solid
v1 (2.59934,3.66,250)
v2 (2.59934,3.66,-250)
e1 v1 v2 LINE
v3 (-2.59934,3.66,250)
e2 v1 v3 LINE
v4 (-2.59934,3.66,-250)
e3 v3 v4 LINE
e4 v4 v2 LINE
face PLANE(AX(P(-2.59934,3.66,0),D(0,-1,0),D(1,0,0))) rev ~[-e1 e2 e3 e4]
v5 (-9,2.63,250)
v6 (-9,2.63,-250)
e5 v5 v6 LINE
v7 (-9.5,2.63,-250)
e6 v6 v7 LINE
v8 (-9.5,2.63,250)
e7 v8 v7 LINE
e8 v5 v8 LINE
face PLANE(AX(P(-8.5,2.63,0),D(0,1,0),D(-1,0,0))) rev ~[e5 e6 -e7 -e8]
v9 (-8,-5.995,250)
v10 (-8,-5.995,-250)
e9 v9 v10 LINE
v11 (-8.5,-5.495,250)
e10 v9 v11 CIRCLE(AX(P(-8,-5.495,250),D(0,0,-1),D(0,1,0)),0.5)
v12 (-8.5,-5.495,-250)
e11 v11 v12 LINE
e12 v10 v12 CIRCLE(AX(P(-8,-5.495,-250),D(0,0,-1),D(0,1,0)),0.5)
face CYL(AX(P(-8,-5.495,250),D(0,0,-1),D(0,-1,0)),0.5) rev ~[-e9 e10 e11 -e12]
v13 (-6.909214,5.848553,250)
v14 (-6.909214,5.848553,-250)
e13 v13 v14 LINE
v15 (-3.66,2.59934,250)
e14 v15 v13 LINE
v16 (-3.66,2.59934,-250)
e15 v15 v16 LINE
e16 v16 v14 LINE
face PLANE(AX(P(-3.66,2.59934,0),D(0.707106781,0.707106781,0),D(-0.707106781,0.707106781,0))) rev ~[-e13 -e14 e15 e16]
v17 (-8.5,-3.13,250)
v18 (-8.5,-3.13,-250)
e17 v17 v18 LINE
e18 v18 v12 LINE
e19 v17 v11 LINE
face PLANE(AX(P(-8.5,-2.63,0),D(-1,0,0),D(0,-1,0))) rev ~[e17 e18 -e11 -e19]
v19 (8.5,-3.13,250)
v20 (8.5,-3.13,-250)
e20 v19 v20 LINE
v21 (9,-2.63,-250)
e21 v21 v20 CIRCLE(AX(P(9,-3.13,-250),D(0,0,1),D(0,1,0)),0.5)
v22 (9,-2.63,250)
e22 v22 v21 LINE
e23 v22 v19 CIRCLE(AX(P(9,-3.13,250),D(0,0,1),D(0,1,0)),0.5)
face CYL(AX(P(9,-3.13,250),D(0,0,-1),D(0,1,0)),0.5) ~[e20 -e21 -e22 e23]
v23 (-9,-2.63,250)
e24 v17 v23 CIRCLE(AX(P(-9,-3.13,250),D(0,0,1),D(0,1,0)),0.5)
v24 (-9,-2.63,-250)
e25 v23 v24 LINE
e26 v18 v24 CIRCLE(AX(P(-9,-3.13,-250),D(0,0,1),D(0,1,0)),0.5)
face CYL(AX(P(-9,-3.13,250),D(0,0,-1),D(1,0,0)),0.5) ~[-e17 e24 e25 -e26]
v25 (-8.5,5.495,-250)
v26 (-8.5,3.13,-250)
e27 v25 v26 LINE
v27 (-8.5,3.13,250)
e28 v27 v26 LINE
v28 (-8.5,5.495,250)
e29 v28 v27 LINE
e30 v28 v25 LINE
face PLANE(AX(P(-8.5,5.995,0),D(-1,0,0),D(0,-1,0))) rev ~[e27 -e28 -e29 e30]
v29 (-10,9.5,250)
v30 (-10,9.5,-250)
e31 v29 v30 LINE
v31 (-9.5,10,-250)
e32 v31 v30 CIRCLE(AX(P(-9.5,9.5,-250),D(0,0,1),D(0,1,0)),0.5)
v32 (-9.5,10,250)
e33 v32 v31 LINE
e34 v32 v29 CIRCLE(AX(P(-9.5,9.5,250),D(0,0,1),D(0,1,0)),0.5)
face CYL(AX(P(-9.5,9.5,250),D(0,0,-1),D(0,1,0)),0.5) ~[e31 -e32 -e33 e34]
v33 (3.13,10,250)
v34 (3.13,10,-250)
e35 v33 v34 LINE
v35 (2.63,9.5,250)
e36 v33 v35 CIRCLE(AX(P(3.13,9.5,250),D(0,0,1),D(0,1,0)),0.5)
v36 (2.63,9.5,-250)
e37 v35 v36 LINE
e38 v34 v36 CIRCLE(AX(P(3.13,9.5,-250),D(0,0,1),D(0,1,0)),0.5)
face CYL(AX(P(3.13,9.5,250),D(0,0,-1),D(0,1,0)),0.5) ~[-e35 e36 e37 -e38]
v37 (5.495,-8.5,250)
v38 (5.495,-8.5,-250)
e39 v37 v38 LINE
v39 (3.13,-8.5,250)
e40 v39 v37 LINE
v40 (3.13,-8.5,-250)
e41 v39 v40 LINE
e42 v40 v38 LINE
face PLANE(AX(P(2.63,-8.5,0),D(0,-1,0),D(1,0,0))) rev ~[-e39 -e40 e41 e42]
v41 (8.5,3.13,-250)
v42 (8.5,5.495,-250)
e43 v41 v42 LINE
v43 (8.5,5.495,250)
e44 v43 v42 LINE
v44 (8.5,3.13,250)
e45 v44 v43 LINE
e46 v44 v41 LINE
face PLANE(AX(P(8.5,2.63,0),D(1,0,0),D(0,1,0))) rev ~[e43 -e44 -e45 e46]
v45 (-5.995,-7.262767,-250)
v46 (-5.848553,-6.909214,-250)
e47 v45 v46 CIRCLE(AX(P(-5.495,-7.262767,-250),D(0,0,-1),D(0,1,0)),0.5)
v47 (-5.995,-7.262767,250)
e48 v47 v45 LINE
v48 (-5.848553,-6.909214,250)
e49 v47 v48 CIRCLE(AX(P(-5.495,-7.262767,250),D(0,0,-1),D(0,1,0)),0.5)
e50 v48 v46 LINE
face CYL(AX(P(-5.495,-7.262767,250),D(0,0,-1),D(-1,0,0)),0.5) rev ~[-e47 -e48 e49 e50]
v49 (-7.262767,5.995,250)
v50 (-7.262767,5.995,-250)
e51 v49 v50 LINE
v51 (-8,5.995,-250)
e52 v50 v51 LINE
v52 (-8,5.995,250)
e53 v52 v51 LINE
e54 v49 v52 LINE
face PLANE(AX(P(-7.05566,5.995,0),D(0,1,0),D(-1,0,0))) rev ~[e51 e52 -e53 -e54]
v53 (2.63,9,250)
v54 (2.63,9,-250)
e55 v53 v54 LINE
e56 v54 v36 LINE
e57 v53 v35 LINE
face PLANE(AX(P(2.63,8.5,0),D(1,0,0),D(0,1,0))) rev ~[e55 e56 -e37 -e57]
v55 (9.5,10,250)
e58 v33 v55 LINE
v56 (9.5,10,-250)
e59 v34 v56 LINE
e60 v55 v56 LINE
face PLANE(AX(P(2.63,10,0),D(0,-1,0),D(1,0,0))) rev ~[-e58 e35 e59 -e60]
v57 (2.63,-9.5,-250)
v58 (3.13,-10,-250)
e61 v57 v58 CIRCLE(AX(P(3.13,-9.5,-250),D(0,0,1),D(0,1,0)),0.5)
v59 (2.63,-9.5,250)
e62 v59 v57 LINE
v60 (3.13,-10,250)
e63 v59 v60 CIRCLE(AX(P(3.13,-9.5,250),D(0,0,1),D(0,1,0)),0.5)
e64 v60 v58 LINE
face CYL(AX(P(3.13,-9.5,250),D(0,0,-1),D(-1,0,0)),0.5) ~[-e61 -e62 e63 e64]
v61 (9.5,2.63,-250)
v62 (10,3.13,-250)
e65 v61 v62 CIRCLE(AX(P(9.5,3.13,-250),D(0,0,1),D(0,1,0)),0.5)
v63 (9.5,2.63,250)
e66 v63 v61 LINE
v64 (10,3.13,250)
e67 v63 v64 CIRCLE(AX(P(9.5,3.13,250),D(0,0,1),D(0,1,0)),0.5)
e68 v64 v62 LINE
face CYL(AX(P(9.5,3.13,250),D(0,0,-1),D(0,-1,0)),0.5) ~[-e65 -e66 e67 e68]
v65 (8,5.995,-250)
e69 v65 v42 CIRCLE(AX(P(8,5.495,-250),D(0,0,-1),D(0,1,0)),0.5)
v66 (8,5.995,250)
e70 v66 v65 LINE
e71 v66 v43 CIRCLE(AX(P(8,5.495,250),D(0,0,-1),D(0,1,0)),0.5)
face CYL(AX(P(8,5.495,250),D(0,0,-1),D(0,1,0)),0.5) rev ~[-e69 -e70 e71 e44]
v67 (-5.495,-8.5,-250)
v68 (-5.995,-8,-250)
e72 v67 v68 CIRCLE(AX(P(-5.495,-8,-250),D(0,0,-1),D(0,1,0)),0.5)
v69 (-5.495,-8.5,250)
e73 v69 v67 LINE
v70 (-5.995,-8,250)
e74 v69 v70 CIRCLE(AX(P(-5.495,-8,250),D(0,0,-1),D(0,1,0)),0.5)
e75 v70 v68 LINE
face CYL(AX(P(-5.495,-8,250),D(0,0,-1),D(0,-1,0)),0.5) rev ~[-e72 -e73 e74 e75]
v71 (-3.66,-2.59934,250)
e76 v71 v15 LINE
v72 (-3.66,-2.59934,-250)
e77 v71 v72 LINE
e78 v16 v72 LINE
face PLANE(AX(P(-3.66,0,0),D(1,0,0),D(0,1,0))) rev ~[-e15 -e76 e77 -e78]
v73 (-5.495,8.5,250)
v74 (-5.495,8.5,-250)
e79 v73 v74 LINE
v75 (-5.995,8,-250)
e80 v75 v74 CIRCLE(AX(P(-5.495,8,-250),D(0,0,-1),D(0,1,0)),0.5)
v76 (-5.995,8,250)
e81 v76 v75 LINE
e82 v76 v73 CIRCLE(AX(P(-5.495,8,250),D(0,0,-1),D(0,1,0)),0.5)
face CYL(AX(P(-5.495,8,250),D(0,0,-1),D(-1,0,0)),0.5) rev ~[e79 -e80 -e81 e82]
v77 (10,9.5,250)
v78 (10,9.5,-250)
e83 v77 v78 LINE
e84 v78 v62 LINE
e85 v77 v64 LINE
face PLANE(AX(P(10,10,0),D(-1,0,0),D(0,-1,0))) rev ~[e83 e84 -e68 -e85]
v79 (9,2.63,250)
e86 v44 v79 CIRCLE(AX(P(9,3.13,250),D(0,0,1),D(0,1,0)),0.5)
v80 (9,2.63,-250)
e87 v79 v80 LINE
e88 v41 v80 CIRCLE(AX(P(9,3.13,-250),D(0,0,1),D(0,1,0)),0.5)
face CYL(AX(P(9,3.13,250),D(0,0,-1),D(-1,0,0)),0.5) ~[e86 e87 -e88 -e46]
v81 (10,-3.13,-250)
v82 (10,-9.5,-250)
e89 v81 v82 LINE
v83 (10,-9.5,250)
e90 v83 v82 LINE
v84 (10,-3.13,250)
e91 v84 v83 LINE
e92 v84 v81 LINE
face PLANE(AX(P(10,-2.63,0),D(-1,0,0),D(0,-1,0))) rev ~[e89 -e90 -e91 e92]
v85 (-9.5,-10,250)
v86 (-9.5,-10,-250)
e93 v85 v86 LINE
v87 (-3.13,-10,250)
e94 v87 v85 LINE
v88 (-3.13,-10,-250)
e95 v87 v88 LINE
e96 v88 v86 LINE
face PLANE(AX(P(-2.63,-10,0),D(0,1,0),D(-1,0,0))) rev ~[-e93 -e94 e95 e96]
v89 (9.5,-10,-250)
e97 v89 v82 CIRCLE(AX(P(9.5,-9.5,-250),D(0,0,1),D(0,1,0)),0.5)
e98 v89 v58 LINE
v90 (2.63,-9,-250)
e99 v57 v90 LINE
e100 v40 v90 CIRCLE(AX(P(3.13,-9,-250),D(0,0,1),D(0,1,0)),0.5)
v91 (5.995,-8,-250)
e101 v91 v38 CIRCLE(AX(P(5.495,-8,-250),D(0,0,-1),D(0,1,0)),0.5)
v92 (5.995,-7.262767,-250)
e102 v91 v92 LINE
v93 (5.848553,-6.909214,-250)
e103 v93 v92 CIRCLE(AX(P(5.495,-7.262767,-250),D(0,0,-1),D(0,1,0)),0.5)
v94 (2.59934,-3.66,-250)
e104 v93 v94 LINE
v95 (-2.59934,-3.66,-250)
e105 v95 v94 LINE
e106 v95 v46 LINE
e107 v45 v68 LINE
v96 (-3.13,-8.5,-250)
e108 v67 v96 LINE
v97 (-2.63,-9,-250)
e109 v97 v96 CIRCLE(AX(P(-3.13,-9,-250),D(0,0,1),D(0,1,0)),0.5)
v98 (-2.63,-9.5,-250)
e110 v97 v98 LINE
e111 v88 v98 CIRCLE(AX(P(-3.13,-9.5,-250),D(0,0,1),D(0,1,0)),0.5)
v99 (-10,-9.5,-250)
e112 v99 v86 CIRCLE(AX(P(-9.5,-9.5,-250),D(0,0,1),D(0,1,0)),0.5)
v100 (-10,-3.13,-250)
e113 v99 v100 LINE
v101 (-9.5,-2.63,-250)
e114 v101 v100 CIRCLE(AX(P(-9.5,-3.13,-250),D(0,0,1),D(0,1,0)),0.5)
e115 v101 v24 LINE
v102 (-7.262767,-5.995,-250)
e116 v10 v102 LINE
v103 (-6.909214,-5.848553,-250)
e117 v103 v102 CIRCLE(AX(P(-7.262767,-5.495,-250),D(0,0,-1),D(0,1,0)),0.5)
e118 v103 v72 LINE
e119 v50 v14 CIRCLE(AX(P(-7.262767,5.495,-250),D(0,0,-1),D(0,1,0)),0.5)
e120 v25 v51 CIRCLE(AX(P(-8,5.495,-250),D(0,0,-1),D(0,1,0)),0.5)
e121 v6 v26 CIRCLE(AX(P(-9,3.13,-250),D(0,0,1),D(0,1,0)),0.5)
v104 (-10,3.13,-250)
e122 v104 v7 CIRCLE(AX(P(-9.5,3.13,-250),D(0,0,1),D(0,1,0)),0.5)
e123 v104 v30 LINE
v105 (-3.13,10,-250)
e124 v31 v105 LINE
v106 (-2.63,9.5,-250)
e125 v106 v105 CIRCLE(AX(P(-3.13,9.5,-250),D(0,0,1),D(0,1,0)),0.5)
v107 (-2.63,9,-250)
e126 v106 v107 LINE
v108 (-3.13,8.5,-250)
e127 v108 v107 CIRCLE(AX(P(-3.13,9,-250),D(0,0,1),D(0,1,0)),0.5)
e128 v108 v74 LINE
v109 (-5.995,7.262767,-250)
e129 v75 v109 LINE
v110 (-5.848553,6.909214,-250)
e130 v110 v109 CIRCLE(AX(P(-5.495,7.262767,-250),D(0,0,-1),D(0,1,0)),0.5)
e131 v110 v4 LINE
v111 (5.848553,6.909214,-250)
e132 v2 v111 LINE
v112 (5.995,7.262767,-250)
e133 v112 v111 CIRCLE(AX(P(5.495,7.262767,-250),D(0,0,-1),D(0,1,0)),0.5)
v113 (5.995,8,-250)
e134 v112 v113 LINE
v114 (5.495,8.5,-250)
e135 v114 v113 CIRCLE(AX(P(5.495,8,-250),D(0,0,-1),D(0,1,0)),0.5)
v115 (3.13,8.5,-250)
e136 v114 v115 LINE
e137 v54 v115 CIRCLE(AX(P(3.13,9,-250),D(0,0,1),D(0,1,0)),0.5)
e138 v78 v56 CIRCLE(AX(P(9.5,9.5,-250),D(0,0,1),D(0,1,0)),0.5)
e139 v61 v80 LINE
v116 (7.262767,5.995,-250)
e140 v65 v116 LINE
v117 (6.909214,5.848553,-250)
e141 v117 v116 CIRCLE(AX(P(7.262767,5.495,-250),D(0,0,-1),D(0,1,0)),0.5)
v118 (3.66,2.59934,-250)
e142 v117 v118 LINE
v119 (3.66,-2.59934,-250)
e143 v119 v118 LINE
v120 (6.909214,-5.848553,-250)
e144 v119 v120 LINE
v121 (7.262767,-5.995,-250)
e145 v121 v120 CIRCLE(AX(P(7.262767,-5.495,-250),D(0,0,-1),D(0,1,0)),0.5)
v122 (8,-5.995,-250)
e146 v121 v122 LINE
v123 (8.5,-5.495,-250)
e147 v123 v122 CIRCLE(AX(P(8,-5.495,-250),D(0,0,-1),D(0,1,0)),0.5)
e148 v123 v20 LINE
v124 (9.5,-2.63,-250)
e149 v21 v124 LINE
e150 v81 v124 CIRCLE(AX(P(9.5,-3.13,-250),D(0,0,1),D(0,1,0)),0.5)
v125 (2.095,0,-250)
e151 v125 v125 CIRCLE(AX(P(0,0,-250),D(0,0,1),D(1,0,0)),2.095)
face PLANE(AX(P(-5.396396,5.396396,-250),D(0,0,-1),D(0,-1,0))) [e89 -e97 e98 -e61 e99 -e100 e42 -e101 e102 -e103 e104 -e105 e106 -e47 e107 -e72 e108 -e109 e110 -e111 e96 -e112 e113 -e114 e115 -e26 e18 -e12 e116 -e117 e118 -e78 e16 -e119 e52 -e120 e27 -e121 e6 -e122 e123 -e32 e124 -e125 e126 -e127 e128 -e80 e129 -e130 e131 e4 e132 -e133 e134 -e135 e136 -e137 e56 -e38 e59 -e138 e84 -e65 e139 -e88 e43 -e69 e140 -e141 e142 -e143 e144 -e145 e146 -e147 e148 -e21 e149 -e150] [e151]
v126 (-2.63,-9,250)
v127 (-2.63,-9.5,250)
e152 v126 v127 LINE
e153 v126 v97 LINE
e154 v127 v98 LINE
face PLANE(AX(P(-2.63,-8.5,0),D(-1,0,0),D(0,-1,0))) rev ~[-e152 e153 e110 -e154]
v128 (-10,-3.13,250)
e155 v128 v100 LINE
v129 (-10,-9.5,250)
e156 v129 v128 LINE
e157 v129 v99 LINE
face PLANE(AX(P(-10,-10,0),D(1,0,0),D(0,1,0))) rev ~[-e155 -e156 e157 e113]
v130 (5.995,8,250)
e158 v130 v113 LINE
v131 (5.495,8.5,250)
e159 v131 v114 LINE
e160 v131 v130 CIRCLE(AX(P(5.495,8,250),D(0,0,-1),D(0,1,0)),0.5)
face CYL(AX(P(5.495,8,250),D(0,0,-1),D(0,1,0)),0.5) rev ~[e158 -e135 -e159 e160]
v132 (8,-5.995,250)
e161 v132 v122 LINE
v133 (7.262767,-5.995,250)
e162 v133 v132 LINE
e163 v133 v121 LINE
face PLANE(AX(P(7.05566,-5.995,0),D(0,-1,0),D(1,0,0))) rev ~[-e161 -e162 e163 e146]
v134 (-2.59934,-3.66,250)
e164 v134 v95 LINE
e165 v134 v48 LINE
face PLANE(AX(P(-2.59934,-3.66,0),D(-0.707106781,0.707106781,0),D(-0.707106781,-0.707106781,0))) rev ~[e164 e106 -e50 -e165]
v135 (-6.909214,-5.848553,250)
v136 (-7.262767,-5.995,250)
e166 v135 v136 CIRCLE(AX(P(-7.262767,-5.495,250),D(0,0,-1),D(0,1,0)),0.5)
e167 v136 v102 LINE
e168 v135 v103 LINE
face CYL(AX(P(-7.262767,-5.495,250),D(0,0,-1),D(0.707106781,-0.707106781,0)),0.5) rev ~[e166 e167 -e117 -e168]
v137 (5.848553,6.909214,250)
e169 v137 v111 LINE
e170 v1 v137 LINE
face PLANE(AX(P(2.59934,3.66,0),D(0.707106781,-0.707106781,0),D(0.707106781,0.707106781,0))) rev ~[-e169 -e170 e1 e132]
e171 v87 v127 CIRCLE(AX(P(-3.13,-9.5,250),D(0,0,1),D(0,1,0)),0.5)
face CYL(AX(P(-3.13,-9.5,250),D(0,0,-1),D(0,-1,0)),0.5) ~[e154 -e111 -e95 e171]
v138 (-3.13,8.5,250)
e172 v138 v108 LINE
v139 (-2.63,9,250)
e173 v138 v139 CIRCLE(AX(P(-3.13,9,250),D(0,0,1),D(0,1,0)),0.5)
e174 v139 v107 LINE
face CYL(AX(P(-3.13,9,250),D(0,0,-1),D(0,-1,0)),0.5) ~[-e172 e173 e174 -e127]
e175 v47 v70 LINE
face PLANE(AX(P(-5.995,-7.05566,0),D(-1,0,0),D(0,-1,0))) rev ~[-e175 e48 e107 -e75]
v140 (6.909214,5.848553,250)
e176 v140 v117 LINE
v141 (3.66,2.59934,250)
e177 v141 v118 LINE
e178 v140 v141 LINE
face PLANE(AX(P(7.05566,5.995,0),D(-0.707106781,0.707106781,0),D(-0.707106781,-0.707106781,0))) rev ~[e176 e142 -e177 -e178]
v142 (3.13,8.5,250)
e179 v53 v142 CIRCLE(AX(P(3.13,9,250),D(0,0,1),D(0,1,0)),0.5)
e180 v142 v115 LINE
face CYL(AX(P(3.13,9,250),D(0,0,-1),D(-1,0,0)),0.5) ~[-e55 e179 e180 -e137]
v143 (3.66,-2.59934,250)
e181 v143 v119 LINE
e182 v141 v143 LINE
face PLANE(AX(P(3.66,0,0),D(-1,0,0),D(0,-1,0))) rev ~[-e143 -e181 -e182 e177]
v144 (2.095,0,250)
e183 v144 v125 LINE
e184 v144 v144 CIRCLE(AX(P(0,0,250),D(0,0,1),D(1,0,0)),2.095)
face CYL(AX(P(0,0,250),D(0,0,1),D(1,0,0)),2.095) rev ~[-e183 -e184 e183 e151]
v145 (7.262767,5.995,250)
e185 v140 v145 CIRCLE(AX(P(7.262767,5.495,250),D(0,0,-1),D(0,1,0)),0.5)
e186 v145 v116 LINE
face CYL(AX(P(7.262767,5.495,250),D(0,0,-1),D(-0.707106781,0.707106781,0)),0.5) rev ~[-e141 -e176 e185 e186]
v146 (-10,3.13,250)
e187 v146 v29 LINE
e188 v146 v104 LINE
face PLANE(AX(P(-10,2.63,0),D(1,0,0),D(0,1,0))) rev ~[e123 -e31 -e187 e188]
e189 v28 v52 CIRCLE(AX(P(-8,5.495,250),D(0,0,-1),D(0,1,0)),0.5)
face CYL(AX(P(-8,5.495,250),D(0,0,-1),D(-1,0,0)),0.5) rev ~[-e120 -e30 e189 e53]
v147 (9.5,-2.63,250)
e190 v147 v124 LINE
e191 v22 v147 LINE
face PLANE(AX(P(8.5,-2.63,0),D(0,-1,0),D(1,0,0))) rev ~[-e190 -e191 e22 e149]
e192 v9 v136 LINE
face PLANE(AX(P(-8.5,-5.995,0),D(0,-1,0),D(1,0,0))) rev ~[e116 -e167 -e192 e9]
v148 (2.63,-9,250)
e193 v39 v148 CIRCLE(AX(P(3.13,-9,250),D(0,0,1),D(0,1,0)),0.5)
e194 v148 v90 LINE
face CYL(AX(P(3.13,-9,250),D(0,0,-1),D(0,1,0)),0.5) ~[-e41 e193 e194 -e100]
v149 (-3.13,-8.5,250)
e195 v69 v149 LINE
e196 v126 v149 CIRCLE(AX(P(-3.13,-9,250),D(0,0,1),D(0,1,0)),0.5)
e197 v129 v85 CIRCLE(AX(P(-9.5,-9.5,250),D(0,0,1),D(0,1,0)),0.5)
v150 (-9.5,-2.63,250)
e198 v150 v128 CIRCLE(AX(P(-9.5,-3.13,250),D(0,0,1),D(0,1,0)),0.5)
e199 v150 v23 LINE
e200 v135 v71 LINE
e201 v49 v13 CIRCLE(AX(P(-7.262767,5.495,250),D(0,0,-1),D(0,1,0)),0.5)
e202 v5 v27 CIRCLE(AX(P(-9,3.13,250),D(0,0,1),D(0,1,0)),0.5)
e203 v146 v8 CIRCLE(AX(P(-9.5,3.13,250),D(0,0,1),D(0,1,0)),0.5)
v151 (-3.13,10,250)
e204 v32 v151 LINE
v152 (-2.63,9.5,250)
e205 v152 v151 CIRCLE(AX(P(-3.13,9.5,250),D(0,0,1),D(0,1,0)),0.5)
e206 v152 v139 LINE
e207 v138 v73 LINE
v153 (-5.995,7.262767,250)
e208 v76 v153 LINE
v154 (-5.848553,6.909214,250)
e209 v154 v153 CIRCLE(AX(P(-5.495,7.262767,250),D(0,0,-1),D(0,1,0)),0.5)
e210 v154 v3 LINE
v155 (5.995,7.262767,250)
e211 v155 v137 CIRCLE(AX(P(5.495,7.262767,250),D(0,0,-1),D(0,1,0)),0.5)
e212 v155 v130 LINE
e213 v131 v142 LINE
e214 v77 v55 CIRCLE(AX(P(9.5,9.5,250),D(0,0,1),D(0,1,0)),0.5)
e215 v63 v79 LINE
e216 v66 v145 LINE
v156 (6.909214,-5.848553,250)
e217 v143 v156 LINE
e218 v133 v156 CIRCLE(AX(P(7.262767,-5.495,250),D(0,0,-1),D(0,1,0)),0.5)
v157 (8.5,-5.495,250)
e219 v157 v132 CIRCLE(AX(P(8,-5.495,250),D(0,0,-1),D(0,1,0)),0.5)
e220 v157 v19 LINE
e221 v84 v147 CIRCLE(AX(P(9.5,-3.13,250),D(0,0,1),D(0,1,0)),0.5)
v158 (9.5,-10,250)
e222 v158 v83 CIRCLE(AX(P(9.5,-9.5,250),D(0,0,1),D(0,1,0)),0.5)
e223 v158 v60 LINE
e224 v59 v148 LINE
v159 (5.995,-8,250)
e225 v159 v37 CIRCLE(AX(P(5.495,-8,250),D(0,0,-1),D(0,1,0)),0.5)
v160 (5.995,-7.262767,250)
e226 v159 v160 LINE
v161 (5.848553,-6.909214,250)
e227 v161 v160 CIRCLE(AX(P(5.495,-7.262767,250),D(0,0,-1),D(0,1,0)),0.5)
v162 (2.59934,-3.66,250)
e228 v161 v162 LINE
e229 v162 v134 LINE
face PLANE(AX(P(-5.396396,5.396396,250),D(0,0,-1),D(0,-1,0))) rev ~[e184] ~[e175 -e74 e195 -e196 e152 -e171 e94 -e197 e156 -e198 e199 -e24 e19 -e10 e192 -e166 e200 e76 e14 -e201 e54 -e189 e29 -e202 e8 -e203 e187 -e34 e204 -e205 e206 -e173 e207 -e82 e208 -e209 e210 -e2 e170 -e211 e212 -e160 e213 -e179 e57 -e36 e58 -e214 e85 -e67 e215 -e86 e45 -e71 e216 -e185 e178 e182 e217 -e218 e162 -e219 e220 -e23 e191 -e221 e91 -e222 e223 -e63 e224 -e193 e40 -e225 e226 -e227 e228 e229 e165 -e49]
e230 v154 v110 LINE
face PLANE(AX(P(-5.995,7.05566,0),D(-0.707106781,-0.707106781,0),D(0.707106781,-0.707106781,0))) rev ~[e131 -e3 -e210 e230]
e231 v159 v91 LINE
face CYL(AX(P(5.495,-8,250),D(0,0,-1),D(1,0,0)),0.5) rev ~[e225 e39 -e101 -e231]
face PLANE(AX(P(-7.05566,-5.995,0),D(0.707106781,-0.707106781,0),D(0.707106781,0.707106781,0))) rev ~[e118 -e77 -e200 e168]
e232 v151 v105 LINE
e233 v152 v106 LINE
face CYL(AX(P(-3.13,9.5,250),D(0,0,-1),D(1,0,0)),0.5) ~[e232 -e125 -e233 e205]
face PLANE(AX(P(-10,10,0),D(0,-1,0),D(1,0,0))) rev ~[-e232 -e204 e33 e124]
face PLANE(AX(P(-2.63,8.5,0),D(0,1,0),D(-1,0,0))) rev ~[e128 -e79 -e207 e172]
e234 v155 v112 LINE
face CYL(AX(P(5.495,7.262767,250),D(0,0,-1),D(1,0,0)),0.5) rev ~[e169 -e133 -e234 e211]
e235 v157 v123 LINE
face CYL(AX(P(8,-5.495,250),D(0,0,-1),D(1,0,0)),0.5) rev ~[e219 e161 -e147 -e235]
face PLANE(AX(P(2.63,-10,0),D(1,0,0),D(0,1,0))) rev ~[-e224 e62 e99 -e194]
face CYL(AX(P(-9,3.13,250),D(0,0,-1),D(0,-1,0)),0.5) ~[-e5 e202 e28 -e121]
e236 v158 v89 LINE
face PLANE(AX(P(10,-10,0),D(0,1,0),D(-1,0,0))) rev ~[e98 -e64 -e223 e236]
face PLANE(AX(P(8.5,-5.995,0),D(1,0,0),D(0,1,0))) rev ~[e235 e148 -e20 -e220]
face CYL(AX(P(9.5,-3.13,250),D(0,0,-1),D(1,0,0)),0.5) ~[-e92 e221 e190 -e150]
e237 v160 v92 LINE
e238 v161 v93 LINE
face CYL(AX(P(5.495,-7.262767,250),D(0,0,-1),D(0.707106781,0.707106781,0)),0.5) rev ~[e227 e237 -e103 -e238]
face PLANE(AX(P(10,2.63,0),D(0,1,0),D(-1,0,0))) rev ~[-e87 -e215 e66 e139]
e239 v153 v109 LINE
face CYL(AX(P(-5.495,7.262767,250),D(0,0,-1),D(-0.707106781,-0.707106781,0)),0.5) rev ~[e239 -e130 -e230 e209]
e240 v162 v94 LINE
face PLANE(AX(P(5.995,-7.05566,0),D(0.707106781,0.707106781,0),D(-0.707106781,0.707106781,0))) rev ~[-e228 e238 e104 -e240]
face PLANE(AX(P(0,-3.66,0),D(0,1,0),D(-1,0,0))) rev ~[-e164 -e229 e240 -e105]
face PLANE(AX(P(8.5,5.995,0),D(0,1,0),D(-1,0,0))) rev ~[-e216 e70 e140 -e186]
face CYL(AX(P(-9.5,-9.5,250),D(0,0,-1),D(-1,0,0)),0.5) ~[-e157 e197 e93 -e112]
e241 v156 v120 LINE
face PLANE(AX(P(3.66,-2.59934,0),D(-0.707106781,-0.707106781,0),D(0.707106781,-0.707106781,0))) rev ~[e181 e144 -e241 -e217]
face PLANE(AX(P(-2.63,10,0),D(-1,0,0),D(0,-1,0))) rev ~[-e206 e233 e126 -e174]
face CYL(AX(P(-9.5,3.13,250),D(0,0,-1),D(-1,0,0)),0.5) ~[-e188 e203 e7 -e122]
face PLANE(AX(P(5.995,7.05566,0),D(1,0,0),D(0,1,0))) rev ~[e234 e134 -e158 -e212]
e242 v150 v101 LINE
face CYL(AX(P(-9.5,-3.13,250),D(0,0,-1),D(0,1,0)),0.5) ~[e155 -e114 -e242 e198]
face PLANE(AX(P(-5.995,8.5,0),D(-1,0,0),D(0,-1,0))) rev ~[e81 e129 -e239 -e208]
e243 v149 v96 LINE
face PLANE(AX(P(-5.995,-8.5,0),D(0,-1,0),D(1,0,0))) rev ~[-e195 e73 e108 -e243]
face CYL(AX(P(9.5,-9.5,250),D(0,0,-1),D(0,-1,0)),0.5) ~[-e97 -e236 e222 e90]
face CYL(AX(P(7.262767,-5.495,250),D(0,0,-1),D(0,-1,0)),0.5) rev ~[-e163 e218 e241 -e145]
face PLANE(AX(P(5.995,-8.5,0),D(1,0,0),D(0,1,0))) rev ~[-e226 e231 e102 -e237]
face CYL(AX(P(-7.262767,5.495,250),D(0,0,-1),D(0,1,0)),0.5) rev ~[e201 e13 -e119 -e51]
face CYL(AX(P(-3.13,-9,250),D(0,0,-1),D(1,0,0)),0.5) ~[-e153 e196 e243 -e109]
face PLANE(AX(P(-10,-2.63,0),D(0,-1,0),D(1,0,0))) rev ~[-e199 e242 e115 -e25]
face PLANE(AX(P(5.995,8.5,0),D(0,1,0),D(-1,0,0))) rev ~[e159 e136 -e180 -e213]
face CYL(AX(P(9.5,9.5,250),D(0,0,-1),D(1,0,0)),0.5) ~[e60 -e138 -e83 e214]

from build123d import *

# Parameters (mm, degrees)
BOSS_EXTRUDE1_DEPTH      = 250
FILLET1_R                = 0.5
CIRPATTERN3_COUNT        = 4
FILLET1_OF_CIRPATTERN3_R = 0.5
SKETCH3_R                = 2.095
CUT_EXTRUDE1_DEPTH       = 501.199960016


with BuildPart() as part:
    # Sketch2 → Boss-Extrude1 (new, symmetric)
    with BuildSketch(Plane.XY):
        Polygon((0, 3.66), (2.599339828, 3.66), (5.995, 7.055660172), (5.995, 8.5), (2.63, 8.5), (2.63, 10), (10, 10), (10, 2.63), (8.5, 2.63), (8.5, 5.995), (7.055660172, 5.995), (3.66, 2.599339828), (3.66, 0), (0, 0), align=None)
    boss_extrude1 = extrude(amount=BOSS_EXTRUDE1_DEPTH, both=True)

    # Fillet1
    fillet1_edges = [part.edges().sort_by_distance(p)[0] for p in [
        (5.995, 7.055660172, 0),
        (5.995, 8.5, 0),
        (2.63, 8.5, 0),
        (2.63, 10, 0),
        (10, 10, 0),
        (10, 2.63, 0),
        (8.5, 2.63, 0),
        (8.5, 5.995, 0),
        (7.055660172, 5.995, 0),
    ]]
    fillet(fillet1_edges, radius=FILLET1_R)

    # CirPattern3: Boss-Extrude1 ×4 about axis
    cirpattern3_axis = Axis((0, 0, 250), (0, 0, -1))
    for i in range(1, CIRPATTERN3_COUNT):
        add(boss_extrude1.rotate(cirpattern3_axis, i * 360 / CIRPATTERN3_COUNT))

    # Fillet1 of CirPattern3
    fillet1_of_cirpattern3_edges = [part.edges().sort_by_distance(p)[0] for p in [
        (7.055660172, -5.995, 0),
        (8.5, -5.995, 0),
        (8.5, -2.63, 0),
        (10, -2.63, 0),
        (10, -10, 0),
        (2.63, -10, 0),
        (2.63, -8.5, 0),
        (5.995, -8.5, 0),
        (5.995, -7.055660172, 0),
        (-5.995, -7.055660172, 0),
        (-5.995, -8.5, 0),
        (-2.63, -8.5, 0),
        (-2.63, -10, 0),
        (-10, -10, 0),
        (-10, -2.63, 0),
        (-8.5, -2.63, 0),
        (-8.5, -5.995, 0),
        (-7.055660172, -5.995, 0),
        (-7.055660172, 5.995, 0),
        (-8.5, 5.995, 0),
        (-8.5, 2.63, 0),
        (-10, 2.63, 0),
        (-10, 10, 0),
        (-2.63, 10, 0),
        (-2.63, 8.5, 0),
        (-5.995, 8.5, 0),
        (-5.995, 7.055660172, 0),
    ]]
    fillet(fillet1_of_cirpattern3_edges, radius=FILLET1_OF_CIRPATTERN3_R)

    # Sketch3 → Cut-Extrude1 (cut, through all)
    with BuildSketch(Plane.XY.offset(250)):
        Circle(SKETCH3_R)
    extrude(amount=-CUT_EXTRUDE1_DEPTH, mode=Mode.SUBTRACT)


solid = part.part
